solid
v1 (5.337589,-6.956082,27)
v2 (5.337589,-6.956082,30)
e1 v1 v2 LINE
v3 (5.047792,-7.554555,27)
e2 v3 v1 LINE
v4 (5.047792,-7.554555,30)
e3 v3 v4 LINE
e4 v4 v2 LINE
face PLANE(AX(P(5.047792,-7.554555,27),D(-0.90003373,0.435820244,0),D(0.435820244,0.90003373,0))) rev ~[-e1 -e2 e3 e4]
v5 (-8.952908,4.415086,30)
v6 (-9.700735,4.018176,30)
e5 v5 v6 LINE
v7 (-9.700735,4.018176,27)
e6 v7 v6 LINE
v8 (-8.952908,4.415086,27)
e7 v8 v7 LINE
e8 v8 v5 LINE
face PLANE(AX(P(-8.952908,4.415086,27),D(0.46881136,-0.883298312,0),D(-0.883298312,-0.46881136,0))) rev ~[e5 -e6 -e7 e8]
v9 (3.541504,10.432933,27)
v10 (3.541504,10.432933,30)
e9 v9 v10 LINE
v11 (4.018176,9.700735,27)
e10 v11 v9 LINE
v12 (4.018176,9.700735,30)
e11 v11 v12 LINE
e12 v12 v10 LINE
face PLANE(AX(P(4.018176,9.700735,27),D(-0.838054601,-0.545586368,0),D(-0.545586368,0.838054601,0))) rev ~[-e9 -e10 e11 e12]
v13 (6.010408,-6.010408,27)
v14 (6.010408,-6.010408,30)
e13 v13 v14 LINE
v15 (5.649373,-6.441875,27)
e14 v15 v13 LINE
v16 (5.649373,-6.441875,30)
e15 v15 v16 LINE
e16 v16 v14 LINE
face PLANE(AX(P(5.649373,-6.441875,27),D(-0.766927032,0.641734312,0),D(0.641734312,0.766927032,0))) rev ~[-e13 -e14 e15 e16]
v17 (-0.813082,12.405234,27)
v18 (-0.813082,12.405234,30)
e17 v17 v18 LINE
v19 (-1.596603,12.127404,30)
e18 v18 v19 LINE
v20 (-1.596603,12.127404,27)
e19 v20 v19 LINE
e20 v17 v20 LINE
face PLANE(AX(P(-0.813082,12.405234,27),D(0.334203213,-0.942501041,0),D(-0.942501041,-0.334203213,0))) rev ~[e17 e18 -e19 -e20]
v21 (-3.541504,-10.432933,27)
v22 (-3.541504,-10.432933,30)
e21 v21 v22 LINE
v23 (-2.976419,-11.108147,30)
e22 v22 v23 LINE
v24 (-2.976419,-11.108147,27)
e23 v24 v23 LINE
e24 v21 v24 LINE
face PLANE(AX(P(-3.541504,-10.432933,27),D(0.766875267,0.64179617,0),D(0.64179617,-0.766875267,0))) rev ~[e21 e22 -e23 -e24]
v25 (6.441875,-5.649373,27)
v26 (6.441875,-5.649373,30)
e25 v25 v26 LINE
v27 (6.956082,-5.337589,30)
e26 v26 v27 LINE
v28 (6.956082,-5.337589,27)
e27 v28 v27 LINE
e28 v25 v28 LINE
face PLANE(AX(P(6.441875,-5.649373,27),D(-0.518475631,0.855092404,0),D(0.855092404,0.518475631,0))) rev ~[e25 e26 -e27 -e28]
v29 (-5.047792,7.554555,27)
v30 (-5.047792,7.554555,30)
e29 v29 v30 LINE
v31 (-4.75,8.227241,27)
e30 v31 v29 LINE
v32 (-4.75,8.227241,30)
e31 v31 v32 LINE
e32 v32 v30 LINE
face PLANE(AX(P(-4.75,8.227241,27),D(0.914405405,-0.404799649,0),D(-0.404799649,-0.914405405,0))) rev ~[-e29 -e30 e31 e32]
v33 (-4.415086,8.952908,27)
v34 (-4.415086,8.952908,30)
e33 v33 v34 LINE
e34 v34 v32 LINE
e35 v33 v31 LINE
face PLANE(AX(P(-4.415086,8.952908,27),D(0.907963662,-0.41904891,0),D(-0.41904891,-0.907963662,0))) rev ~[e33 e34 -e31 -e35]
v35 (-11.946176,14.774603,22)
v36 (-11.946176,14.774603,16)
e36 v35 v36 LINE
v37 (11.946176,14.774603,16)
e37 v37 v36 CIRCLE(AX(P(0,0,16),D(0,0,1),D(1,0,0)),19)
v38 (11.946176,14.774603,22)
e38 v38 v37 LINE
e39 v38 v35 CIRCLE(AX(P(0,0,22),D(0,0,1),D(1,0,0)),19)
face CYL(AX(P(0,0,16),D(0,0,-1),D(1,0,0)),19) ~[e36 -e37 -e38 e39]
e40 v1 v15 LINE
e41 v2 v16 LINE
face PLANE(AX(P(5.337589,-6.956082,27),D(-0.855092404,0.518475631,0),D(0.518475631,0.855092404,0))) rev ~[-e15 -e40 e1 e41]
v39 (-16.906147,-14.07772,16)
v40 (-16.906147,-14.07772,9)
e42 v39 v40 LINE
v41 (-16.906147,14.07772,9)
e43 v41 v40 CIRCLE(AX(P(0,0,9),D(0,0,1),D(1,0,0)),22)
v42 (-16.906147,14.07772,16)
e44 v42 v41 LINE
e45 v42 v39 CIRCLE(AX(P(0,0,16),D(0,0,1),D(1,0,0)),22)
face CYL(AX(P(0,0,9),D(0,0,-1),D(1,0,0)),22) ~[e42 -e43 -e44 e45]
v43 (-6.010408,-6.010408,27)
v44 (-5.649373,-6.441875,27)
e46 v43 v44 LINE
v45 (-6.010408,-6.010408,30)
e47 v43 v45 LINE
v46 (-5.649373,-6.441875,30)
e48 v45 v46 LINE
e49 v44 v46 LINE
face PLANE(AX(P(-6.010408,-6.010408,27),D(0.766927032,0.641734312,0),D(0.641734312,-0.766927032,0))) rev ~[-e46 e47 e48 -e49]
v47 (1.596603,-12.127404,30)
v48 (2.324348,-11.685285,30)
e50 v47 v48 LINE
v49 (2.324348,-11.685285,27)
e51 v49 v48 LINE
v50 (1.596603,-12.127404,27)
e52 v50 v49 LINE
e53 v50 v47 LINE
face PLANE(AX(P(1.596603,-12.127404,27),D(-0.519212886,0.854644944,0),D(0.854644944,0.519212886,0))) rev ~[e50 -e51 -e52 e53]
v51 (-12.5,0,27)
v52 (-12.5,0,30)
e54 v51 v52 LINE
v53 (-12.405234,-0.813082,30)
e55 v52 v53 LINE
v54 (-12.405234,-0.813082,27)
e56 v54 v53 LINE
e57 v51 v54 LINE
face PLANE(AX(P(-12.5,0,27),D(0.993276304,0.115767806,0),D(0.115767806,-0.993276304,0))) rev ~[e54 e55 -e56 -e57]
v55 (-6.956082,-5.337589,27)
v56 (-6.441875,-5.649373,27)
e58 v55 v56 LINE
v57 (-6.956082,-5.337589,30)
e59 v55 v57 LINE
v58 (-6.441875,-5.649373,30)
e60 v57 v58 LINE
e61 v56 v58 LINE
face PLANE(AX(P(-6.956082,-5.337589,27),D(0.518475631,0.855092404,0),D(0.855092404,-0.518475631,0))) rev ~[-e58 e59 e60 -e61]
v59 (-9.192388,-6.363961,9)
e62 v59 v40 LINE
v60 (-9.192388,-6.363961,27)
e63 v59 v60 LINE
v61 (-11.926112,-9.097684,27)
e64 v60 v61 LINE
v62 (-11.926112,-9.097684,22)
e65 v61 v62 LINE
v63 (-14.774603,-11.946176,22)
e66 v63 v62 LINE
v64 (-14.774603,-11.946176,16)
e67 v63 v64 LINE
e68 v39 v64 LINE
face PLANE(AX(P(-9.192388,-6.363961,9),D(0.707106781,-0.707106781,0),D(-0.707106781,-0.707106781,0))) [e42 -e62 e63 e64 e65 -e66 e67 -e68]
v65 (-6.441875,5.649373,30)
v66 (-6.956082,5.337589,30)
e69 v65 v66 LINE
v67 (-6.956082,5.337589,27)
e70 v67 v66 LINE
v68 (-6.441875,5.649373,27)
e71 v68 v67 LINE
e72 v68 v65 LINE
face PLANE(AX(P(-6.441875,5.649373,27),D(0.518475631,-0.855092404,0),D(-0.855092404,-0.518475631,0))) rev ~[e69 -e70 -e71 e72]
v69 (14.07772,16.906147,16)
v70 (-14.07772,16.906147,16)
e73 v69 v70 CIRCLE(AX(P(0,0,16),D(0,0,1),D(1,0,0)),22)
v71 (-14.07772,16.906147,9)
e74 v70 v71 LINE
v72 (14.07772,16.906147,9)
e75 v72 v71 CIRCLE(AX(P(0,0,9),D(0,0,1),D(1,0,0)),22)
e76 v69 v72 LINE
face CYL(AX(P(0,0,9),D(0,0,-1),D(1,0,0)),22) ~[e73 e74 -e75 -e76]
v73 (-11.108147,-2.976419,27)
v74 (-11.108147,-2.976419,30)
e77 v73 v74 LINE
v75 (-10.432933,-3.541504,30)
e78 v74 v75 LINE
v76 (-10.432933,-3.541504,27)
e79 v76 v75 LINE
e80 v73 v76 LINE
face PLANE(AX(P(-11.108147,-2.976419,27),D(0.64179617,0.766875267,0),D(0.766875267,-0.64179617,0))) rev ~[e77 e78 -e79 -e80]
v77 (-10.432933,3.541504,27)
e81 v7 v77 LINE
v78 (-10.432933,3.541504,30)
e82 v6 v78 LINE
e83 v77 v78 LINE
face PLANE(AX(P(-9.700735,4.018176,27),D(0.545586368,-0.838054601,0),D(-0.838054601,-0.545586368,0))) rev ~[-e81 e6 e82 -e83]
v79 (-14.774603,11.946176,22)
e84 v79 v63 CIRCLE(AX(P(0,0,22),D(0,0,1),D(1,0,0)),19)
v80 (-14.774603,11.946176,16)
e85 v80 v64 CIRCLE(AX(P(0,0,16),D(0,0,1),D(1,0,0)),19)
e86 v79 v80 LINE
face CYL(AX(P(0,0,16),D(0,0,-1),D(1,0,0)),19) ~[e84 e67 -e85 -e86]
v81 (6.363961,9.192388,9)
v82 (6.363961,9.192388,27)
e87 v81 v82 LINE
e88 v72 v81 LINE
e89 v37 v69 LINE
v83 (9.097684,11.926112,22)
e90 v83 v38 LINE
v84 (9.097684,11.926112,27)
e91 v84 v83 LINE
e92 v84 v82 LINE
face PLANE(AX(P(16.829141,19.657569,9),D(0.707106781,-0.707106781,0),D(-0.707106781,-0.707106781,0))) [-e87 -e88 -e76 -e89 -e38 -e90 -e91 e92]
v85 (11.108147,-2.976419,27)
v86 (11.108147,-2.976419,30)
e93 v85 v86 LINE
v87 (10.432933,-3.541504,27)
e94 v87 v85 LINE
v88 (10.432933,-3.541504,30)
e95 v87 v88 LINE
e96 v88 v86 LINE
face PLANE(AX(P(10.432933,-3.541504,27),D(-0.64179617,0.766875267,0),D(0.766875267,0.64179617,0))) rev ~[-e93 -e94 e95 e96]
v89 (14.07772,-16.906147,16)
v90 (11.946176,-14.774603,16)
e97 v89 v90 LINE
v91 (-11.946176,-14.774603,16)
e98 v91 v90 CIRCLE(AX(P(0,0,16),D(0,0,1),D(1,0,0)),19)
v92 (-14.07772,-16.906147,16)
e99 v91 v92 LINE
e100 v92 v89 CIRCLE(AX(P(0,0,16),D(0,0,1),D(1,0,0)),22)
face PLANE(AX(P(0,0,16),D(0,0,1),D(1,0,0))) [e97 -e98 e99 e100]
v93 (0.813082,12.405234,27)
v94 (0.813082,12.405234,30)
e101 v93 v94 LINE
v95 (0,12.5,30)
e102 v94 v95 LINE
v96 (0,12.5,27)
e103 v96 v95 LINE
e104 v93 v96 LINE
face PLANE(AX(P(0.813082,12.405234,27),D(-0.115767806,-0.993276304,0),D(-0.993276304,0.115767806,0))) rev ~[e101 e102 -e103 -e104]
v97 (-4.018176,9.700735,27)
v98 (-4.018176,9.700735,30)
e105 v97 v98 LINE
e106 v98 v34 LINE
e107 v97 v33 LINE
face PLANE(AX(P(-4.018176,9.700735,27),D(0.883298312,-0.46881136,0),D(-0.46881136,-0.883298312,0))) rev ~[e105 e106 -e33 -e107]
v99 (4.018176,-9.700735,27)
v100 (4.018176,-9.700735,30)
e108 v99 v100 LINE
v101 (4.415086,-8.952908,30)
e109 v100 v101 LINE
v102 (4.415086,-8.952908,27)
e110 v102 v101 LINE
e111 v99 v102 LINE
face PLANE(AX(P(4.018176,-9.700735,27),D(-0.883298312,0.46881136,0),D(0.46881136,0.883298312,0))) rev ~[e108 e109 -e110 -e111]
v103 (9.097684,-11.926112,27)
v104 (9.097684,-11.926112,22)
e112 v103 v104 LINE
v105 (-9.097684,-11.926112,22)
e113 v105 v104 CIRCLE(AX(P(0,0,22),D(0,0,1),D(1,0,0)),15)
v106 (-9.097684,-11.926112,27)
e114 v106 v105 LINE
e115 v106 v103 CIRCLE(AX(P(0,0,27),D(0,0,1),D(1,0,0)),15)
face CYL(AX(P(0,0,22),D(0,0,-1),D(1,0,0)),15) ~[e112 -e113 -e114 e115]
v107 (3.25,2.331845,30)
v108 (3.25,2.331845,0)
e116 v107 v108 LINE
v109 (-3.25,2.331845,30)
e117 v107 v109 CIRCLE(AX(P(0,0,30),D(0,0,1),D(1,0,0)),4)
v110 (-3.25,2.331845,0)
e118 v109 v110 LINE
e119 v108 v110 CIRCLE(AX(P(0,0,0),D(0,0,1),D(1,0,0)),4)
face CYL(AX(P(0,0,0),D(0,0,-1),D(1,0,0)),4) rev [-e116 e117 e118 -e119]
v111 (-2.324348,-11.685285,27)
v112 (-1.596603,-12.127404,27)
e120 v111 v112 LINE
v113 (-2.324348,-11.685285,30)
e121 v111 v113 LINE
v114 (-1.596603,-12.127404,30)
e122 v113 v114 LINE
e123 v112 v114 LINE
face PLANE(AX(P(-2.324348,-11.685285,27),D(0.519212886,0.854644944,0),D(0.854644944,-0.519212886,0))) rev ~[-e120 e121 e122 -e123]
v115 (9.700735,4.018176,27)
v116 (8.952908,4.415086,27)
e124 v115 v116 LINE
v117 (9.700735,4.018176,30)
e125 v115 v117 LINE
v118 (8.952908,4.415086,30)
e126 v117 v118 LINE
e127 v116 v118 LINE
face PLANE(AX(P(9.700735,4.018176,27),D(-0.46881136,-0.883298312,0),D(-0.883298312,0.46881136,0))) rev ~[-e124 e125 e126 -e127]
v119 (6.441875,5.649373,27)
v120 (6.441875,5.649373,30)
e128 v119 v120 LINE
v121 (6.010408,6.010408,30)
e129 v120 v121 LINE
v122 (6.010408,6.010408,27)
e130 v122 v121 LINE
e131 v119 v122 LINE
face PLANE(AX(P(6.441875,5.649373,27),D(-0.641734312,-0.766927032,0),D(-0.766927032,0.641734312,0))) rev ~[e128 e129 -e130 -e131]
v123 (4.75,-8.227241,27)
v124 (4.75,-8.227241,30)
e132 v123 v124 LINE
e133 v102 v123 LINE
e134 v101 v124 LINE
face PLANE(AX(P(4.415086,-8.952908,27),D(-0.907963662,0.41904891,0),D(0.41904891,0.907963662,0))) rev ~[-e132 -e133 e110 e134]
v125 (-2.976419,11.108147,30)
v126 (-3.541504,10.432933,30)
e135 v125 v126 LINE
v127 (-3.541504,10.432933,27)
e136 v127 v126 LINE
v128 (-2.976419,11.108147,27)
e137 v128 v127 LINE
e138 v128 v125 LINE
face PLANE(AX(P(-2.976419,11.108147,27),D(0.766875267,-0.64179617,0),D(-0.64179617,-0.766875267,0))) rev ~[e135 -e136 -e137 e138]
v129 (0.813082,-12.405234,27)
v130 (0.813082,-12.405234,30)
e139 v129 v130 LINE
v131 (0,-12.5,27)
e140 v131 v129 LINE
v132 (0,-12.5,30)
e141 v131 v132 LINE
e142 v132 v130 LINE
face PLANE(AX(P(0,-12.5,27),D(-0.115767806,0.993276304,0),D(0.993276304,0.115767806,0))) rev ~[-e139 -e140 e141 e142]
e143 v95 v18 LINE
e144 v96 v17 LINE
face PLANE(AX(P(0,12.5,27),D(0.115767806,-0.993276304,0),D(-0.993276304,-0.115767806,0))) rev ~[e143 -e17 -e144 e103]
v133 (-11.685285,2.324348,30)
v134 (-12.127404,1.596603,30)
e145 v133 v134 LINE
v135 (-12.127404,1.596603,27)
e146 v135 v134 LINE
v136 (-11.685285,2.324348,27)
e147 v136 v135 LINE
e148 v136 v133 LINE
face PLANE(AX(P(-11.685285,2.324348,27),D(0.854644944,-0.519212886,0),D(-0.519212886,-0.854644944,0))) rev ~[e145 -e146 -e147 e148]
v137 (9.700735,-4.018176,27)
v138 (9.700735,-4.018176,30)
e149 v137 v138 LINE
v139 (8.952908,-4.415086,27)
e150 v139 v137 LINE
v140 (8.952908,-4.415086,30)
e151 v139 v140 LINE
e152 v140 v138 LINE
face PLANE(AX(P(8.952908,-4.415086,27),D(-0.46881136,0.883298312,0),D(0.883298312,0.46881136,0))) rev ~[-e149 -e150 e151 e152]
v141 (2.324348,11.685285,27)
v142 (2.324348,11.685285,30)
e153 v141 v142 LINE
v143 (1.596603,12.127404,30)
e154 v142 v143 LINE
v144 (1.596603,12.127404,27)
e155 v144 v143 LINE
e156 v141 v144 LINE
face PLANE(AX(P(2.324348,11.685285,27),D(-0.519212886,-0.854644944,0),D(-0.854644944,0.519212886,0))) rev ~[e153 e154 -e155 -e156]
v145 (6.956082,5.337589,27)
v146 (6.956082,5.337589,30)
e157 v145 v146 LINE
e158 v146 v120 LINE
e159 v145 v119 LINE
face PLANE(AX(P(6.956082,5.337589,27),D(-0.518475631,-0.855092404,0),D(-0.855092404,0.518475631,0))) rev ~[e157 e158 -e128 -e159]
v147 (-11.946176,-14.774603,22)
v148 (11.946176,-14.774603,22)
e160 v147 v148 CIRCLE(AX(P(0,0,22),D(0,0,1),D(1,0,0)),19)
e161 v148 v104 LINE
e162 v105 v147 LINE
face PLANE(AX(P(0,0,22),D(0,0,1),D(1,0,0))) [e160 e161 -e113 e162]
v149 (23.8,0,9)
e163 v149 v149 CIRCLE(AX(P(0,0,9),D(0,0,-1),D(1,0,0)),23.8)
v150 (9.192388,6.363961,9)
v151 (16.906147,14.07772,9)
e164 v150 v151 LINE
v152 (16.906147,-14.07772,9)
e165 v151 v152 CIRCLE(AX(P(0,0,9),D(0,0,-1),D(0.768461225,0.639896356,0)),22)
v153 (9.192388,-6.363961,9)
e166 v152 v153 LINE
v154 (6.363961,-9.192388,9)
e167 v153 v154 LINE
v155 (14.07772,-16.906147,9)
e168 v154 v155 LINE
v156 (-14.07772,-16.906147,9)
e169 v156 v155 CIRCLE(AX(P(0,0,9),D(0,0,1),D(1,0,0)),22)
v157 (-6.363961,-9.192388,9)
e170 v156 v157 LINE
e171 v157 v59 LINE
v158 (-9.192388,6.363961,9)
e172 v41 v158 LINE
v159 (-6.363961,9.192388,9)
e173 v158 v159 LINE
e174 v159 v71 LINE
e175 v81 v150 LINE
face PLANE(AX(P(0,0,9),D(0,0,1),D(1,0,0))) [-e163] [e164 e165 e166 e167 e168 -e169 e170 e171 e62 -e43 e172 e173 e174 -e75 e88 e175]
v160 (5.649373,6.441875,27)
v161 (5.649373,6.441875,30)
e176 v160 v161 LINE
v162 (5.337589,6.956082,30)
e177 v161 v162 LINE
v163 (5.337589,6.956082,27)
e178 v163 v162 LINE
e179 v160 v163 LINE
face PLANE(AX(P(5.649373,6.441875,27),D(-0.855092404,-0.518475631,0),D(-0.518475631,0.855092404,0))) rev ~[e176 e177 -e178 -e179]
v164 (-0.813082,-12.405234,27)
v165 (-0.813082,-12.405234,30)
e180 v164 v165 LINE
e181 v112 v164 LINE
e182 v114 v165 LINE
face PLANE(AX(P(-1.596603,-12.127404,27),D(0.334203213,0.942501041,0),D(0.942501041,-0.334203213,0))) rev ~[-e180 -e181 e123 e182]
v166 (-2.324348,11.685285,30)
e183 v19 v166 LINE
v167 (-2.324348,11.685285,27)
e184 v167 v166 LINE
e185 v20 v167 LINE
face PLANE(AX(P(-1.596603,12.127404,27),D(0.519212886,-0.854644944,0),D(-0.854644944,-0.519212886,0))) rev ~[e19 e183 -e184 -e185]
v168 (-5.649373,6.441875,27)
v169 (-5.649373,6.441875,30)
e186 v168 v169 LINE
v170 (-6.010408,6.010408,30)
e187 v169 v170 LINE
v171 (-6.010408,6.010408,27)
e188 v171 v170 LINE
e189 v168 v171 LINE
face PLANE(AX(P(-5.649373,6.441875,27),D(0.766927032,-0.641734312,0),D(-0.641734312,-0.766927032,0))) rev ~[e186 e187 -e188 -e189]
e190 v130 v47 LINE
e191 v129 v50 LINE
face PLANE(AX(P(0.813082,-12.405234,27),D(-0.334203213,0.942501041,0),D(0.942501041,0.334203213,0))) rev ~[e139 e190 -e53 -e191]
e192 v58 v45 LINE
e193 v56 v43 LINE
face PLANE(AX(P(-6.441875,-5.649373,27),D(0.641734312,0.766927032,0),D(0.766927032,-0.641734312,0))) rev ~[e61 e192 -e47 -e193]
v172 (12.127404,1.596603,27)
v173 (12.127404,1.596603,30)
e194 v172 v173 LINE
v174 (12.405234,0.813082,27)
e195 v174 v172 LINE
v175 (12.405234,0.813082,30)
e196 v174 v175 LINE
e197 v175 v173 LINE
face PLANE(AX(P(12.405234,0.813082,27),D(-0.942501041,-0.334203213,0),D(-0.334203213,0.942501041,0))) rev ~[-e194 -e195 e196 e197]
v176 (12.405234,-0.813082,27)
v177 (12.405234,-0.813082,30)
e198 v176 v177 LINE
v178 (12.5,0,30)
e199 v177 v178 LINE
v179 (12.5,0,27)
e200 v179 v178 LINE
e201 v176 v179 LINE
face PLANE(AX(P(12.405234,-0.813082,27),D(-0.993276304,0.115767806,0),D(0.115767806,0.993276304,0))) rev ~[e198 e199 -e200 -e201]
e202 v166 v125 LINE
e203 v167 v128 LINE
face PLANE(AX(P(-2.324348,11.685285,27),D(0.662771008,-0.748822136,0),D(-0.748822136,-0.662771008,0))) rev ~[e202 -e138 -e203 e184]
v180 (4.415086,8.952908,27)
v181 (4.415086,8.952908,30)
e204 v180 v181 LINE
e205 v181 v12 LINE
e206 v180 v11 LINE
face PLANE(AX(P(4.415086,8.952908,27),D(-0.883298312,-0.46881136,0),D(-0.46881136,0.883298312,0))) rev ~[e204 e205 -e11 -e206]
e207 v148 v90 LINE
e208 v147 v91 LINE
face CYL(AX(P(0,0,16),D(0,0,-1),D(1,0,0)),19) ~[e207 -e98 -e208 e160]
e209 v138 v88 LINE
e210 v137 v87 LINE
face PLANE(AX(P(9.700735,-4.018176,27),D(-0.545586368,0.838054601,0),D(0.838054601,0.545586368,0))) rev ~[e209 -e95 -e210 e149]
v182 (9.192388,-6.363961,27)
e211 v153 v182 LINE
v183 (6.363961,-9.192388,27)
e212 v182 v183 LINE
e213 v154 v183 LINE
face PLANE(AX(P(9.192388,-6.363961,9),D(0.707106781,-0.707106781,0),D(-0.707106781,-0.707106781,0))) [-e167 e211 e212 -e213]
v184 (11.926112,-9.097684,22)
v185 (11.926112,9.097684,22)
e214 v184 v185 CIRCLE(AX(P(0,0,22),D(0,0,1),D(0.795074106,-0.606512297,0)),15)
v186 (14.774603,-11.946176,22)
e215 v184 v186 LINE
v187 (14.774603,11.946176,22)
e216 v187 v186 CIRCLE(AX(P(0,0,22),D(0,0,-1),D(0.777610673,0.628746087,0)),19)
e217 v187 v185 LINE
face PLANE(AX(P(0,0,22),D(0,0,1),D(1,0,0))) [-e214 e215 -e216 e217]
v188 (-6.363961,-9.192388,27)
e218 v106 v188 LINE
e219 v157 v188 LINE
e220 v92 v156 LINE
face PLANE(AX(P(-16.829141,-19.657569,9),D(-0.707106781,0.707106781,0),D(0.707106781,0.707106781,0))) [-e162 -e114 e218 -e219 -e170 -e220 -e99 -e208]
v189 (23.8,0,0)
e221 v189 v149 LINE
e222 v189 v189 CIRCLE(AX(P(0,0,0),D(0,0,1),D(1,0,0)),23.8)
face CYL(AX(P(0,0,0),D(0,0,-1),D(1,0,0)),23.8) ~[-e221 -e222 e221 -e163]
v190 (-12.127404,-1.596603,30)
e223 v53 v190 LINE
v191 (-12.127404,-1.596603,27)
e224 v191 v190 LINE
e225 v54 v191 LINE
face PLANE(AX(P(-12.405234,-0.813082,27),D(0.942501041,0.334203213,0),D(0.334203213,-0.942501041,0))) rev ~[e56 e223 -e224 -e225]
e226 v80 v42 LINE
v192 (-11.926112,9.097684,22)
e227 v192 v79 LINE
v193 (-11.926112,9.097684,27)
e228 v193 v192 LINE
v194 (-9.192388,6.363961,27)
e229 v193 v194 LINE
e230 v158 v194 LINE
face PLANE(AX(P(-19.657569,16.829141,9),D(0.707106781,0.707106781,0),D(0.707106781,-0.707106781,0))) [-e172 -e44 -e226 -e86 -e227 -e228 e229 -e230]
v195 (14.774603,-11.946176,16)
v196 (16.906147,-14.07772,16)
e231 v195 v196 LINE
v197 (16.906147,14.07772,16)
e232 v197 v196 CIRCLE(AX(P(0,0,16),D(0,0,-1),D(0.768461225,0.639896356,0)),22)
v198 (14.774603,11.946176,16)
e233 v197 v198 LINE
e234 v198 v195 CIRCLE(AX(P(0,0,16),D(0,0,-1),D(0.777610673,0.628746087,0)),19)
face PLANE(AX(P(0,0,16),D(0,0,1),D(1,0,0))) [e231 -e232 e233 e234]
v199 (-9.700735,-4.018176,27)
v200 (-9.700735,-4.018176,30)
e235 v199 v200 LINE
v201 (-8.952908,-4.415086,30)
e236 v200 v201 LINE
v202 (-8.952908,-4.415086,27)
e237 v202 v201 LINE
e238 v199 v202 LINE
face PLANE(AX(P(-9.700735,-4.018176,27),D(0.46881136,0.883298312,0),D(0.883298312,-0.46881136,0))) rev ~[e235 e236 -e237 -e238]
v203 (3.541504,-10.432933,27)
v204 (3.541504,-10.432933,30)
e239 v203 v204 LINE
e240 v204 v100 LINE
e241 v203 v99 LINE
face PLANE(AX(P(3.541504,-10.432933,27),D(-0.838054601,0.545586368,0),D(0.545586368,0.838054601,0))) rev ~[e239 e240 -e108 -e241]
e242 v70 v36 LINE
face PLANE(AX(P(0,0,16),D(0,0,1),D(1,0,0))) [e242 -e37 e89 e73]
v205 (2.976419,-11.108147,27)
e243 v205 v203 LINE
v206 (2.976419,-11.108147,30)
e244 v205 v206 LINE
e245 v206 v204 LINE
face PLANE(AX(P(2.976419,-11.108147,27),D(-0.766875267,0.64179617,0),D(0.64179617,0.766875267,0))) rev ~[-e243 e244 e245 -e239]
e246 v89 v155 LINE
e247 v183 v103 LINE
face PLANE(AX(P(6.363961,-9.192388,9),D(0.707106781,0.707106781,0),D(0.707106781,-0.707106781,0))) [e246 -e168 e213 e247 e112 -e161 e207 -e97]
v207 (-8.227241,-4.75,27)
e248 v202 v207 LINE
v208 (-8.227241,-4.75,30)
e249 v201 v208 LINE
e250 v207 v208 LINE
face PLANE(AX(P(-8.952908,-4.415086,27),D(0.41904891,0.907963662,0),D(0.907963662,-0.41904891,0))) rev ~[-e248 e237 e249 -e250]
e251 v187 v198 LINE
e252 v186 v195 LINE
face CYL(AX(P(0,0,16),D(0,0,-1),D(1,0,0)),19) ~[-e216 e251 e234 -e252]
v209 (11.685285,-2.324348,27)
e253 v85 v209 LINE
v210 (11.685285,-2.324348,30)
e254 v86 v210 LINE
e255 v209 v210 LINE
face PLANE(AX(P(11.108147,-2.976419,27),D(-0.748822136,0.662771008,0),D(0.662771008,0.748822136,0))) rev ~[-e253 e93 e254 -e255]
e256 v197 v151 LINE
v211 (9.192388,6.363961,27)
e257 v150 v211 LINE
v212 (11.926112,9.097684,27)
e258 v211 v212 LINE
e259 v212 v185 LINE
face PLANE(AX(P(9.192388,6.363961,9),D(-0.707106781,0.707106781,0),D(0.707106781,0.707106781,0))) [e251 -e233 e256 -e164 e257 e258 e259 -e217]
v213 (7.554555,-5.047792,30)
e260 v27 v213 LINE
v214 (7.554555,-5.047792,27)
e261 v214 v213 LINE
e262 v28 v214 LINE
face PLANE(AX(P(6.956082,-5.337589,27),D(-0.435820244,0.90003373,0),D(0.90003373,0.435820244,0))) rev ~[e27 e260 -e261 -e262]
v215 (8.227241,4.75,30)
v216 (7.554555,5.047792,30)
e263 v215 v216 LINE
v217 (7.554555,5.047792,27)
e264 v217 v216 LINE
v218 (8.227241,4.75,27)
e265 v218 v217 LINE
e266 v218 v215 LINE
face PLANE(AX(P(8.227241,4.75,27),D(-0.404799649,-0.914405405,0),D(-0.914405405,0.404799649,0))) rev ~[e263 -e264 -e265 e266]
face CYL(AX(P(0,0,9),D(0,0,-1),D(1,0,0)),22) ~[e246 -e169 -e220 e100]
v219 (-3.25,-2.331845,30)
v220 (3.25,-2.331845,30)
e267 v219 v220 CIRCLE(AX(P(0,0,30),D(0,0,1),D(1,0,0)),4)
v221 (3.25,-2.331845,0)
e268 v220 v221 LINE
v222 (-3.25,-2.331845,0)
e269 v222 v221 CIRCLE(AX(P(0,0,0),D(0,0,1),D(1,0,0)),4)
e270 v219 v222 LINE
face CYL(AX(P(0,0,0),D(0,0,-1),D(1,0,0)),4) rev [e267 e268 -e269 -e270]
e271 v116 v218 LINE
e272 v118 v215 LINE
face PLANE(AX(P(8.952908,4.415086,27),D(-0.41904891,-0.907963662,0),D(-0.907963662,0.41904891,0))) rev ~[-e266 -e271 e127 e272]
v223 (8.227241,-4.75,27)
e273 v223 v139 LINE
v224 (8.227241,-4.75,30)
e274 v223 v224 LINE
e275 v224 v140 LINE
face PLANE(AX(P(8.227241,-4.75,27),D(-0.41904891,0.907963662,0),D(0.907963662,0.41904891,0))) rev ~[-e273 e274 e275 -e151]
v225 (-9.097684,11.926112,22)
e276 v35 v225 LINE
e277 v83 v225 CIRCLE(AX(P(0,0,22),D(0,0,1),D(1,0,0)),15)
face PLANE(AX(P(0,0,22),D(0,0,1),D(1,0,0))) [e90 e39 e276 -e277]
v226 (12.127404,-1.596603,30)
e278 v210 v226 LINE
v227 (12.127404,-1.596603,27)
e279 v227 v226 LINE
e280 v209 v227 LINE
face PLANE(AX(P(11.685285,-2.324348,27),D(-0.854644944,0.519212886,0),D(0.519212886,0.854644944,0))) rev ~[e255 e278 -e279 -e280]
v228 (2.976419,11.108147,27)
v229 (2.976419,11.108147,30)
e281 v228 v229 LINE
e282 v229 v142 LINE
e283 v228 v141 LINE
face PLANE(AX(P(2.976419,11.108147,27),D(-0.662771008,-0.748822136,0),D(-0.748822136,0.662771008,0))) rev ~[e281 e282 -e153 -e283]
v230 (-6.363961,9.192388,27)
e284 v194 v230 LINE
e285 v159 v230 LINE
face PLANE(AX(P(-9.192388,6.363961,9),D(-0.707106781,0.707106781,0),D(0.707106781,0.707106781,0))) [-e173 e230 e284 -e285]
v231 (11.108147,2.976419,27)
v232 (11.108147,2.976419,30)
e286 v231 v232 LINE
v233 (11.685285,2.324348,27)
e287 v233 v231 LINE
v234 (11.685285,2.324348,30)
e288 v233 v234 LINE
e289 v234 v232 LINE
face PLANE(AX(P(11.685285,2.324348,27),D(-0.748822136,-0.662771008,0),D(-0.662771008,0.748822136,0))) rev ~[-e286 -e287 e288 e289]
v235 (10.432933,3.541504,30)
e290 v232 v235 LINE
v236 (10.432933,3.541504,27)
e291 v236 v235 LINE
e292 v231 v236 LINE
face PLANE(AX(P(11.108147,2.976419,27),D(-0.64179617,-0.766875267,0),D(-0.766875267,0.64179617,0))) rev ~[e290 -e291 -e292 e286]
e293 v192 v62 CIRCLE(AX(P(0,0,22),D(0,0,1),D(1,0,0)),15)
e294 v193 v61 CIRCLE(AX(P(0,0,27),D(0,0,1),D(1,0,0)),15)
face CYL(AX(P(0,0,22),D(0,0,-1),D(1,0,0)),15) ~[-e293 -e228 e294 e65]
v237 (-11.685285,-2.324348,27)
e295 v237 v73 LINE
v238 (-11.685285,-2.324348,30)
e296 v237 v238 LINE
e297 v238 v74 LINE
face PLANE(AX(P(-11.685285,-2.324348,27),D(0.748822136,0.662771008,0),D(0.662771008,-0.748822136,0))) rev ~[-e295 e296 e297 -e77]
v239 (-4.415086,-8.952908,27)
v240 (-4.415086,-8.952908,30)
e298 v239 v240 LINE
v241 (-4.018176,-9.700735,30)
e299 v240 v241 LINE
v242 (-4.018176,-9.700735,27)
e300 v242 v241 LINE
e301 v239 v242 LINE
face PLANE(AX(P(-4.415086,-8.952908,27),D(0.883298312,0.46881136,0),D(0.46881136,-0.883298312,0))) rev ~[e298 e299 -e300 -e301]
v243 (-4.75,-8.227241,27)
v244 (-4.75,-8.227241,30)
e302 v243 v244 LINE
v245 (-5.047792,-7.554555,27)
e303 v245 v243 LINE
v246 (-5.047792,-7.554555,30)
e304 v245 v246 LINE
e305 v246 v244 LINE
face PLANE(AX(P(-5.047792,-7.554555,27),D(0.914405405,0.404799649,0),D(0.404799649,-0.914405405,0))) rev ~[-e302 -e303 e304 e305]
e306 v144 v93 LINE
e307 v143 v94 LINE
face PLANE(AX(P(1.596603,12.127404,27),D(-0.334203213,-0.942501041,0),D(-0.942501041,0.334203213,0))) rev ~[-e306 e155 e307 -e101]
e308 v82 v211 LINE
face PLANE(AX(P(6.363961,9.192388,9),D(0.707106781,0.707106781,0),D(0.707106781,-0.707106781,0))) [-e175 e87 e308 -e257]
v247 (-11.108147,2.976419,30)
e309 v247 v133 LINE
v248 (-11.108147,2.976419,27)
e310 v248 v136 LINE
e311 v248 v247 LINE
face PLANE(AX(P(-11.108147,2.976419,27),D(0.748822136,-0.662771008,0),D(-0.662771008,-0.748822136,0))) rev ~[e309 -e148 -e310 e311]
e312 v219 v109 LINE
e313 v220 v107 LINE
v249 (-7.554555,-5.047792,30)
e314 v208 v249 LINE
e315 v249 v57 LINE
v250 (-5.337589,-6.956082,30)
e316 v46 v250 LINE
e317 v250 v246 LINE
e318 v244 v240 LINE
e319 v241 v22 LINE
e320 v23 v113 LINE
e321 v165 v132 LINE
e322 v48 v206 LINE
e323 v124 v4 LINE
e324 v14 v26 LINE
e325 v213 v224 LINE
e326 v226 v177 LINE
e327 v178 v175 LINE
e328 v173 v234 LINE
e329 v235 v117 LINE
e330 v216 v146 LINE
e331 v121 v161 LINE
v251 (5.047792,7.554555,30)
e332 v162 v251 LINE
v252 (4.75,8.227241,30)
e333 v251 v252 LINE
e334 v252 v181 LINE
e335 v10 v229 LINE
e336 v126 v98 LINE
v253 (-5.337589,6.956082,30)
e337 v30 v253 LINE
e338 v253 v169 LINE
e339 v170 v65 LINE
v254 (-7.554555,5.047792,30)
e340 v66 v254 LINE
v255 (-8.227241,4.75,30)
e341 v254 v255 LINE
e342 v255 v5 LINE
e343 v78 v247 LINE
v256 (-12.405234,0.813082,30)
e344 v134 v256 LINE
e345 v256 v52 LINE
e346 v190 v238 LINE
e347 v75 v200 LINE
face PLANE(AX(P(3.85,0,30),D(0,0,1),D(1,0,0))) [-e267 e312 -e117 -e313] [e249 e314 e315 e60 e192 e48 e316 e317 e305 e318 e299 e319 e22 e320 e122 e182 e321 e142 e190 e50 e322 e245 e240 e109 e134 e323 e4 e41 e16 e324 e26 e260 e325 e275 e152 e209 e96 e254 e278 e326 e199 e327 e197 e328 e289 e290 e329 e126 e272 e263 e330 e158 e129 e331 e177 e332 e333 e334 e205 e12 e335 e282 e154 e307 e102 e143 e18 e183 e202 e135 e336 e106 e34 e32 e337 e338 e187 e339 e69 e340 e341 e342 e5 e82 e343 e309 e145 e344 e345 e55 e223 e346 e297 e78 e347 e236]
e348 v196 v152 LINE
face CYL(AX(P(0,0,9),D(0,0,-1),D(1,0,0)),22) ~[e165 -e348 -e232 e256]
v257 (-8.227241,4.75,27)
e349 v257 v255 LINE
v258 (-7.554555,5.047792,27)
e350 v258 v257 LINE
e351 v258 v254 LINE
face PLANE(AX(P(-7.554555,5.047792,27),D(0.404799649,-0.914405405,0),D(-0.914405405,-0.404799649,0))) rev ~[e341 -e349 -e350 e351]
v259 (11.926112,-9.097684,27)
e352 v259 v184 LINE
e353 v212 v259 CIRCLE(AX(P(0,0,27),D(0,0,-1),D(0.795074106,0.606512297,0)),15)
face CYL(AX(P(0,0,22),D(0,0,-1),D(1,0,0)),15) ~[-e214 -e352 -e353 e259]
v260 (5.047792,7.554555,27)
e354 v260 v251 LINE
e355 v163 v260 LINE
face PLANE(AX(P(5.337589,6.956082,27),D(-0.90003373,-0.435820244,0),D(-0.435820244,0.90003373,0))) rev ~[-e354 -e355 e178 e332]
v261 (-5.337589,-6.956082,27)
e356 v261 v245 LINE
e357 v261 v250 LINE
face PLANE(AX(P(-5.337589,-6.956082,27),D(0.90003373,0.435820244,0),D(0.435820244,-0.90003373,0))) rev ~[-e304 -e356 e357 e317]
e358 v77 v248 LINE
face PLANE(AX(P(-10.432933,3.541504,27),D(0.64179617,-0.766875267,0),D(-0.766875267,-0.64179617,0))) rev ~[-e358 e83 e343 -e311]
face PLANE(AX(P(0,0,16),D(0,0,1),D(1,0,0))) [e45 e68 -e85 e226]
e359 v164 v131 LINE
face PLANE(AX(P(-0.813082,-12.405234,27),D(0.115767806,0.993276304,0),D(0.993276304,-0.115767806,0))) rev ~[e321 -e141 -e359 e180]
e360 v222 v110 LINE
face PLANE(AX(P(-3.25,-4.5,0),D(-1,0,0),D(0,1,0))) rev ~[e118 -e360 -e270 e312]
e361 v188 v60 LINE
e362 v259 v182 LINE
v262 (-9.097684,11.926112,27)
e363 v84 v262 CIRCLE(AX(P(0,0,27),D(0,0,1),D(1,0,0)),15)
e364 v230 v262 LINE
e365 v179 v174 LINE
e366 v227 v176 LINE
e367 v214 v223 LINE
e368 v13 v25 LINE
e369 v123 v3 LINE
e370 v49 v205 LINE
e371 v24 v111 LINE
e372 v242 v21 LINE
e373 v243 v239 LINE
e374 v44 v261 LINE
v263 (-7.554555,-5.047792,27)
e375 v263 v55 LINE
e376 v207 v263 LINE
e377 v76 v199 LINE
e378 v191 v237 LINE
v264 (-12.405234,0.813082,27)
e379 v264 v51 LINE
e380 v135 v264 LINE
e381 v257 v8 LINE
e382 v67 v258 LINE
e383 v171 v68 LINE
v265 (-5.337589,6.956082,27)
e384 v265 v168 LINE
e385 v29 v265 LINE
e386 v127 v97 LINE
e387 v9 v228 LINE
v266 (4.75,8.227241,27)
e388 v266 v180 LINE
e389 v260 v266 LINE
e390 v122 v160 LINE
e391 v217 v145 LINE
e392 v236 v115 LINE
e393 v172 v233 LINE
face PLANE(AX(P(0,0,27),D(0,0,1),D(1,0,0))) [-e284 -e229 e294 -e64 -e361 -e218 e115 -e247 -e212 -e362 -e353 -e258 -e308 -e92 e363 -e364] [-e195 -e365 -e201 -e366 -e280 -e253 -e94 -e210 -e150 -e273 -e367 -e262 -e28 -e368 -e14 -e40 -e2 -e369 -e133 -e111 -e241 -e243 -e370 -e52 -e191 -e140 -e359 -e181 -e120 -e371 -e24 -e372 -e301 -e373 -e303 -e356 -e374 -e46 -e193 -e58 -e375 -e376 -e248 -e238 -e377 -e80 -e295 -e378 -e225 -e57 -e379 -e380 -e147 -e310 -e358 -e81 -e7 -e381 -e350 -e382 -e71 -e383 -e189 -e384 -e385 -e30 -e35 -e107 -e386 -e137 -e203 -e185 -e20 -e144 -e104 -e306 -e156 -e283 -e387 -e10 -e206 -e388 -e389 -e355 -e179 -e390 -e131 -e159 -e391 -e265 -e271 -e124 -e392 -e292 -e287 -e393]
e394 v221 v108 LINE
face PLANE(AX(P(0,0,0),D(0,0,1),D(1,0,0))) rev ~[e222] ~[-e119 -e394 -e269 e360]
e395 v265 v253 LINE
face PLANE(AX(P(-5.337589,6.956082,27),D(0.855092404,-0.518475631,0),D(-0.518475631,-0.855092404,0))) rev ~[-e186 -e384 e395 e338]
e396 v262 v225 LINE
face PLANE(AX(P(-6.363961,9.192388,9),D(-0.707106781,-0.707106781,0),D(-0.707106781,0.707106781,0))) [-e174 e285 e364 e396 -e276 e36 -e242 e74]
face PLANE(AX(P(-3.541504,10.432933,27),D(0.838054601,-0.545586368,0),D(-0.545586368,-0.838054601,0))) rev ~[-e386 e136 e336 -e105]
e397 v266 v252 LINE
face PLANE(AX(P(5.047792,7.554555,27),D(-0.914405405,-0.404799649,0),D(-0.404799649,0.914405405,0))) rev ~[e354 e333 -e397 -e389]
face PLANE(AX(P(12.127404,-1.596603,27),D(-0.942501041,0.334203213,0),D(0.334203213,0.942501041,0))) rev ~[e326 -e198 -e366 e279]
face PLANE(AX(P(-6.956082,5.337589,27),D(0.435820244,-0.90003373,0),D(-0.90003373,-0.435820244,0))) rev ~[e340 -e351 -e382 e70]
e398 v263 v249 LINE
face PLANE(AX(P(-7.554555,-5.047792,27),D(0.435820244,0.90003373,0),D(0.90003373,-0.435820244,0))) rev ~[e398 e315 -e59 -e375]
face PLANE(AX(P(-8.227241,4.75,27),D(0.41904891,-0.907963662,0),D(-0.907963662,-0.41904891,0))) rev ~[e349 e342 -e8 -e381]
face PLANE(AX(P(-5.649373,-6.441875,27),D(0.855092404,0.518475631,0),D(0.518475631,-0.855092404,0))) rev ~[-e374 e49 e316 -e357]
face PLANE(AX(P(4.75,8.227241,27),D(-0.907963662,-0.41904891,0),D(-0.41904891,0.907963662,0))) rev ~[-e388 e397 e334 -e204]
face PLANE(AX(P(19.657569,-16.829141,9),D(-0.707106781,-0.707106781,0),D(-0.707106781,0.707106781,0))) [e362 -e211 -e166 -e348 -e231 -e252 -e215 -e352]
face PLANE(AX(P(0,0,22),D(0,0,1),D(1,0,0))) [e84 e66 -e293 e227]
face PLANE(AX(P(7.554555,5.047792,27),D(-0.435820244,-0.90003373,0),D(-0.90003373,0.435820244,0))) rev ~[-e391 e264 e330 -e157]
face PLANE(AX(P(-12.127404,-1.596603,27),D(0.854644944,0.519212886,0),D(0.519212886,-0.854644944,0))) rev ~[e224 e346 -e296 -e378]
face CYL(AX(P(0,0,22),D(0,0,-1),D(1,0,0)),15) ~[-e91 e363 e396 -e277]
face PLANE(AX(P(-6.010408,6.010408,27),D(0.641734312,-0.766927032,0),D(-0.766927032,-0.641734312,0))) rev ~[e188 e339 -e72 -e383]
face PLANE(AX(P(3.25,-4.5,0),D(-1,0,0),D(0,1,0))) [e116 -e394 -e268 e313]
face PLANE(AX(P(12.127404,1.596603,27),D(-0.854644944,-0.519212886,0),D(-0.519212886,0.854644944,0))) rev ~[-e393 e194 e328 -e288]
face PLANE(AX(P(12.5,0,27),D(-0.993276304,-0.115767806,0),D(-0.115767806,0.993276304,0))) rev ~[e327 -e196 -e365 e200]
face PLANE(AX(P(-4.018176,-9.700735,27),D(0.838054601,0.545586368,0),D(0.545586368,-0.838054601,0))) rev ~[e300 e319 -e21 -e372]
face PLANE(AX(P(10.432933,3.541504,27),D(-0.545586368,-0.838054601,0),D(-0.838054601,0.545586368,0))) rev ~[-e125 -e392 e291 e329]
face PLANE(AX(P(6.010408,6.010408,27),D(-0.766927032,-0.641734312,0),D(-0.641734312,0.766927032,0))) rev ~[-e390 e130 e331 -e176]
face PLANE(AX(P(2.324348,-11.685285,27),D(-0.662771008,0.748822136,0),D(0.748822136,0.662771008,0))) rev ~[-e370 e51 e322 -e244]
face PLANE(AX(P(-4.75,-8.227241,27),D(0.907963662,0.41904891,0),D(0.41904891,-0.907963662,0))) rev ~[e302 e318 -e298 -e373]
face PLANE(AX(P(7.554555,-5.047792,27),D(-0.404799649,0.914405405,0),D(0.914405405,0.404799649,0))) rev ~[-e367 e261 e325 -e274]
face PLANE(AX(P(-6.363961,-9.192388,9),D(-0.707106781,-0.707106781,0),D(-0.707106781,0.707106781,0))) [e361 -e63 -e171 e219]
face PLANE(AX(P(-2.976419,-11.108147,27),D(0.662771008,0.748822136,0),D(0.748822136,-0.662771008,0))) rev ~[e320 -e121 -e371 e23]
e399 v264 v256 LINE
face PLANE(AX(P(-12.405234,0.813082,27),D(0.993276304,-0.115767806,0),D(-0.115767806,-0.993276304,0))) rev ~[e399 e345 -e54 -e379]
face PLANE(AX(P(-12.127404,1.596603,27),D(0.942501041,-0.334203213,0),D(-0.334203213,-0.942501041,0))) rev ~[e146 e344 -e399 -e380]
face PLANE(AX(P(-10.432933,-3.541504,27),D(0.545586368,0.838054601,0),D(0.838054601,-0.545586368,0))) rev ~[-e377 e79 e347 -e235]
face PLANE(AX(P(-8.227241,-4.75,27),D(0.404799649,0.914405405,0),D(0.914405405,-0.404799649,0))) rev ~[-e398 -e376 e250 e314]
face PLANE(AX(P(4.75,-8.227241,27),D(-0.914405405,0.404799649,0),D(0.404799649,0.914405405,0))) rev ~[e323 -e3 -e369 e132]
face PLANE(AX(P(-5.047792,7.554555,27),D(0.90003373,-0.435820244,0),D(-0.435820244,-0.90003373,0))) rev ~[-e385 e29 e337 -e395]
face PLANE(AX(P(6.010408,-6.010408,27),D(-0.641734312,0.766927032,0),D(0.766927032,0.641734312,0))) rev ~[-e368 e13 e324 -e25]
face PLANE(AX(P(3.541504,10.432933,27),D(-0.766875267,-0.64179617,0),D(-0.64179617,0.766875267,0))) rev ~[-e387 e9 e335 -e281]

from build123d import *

# Parameters (mm, degrees)
SKETCH1_R        = 23.8
STEP1_DEPTH      = 9
SKETCH2_R        = 22
STEP2_DEPTH      = 7
SKETCH3_R        = 19
STEP3_DEPTH      = 6
SKETCH4_R        = 15
STEP4_DEPTH      = 5
LOBED_TOP_DEPTH  = 3
FLUTES_DEPTH     = 18
SKETCH7_R        = 4
BORE_DEPTH       = 30
SKETCH8_W        = 1.2
SKETCH8_H        = 9
BORE_FLATS_DEPTH = 30


with BuildPart() as part:
    # Sketch1 → Step1 (new body)
    with BuildSketch(Plane.XY):
        Circle(SKETCH1_R)
    extrude(amount=STEP1_DEPTH)

    # Sketch2 → Step2 (add)
    with BuildSketch(Plane.XY.offset(9)):
        Circle(SKETCH2_R)
    extrude(amount=STEP2_DEPTH)

    # Sketch3 → Step3 (add)
    with BuildSketch(Plane.XY.offset(16)):
        Circle(SKETCH3_R)
    extrude(amount=STEP3_DEPTH)

    # Sketch4 → Step4 (add)
    with BuildSketch(Plane.XY.offset(22)):
        Circle(SKETCH4_R)
    extrude(amount=STEP4_DEPTH)

    # Sketch5 → Lobed_top (add)
    with BuildSketch(Plane.XY.offset(27)):
        Polygon((12.5, 0), (12.405234104, 0.813082), (12.127403917, 1.596603015), (11.68528529, 2.32434776), (11.108147002, 2.976419019), (10.432933463, 3.541503697), (9.700735091, 4.01817604), (8.952908293, 4.415085774), (8.227241336, 4.75), (7.554555327, 5.047792488), (6.956081779, 5.33758928), (6.441875004, 5.649372756), (6.01040764, 6.01040764), (5.649372756, 6.441875004), (5.33758928, 6.956081779), (5.047792488, 7.554555327), (4.75, 8.227241336), (4.415085774, 8.952908293), (4.01817604, 9.700735091), (3.541503697, 10.432933463), (2.976419019, 11.108147002), (2.32434776, 11.68528529), (1.596603015, 12.127403917), (0.813082, 12.405234104), (0, 12.5), (-0.813082, 12.405234104), (-1.596603015, 12.127403917), (-2.32434776, 11.68528529), (-2.976419019, 11.108147002), (-3.541503697, 10.432933463), (-4.01817604, 9.700735091), (-4.415085774, 8.952908293), (-4.75, 8.227241336), (-5.047792488, 7.554555327), (-5.33758928, 6.956081779), (-5.649372756, 6.441875004), (-6.01040764, 6.01040764), (-6.441875004, 5.649372756), (-6.956081779, 5.33758928), (-7.554555327, 5.047792488), (-8.227241336, 4.75), (-8.952908293, 4.415085774), (-9.700735091, 4.01817604), (-10.432933463, 3.541503697), (-11.108147002, 2.976419019), (-11.68528529, 2.32434776), (-12.127403917, 1.596603015), (-12.405234104, 0.813082), (-12.5, 0), (-12.405234104, -0.813082), (-12.127403917, -1.596603015), (-11.68528529, -2.32434776), (-11.108147002, -2.976419019), (-10.432933463, -3.541503697), (-9.700735091, -4.01817604), (-8.952908293, -4.415085774), (-8.227241336, -4.75), (-7.554555327, -5.047792488), (-6.956081779, -5.33758928), (-6.441875004, -5.649372756), (-6.01040764, -6.01040764), (-5.649372756, -6.441875004), (-5.33758928, -6.956081779), (-5.047792488, -7.554555327), (-4.75, -8.227241336), (-4.415085774, -8.952908293), (-4.01817604, -9.700735091), (-3.541503697, -10.432933463), (-2.976419019, -11.108147002), (-2.32434776, -11.68528529), (-1.596603015, -12.127403917), (-0.813082, -12.405234104), (0, -12.5), (0.813082, -12.405234104), (1.596603015, -12.127403917), (2.32434776, -11.68528529), (2.976419019, -11.108147002), (3.541503697, -10.432933463), (4.01817604, -9.700735091), (4.415085774, -8.952908293), (4.75, -8.227241336), (5.047792488, -7.554555327), (5.33758928, -6.956081779), (5.649372756, -6.441875004), (6.01040764, -6.01040764), (6.441875004, -5.649372756), (6.956081779, -5.33758928), (7.554555327, -5.047792488), (8.227241336, -4.75), (8.952908293, -4.415085774), (9.700735091, -4.01817604), (10.432933463, -3.541503697), (11.108147002, -2.976419019), (11.68528529, -2.32434776), (12.127403917, -1.596603015), (12.405234104, -0.813082), align=None)
    extrude(amount=LOBED_TOP_DEPTH)

    # Sketch6 → Flutes (cut)
    with BuildSketch(Plane.XY.offset(9)):
        Polygon((9.192388155, 6.363961031), (19.657568517, 16.829141392), (16.829141392, 19.657568517), (6.363961031, 9.192388155), align=None)
        Polygon((-6.363961031, 9.192388155), (-16.829141392, 19.657568517), (-19.657568517, 16.829141392), (-9.192388155, 6.363961031), align=None)
        Polygon((-9.192388155, -6.363961031), (-19.657568517, -16.829141392), (-16.829141392, -19.657568517), (-6.363961031, -9.192388155), align=None)
        Polygon((6.363961031, -9.192388155), (16.829141392, -19.657568517), (19.657568517, -16.829141392), (9.192388155, -6.363961031), align=None)
    extrude(amount=FLUTES_DEPTH, mode=Mode.SUBTRACT)

    # Sketch7 → Bore (cut)
    with BuildSketch(Plane.XY):
        Circle(SKETCH7_R)
    extrude(amount=BORE_DEPTH, mode=Mode.SUBTRACT)

    # Sketch8 → Bore_flats (add)
    with BuildSketch(Plane.XY):
        with Locations((3.85, 0)):
            Rectangle(SKETCH8_W, SKETCH8_H)
        with Locations((-3.85, 0)):
            Rectangle(SKETCH8_W, SKETCH8_H)
    extrude(amount=BORE_FLATS_DEPTH)


solid = part.part
